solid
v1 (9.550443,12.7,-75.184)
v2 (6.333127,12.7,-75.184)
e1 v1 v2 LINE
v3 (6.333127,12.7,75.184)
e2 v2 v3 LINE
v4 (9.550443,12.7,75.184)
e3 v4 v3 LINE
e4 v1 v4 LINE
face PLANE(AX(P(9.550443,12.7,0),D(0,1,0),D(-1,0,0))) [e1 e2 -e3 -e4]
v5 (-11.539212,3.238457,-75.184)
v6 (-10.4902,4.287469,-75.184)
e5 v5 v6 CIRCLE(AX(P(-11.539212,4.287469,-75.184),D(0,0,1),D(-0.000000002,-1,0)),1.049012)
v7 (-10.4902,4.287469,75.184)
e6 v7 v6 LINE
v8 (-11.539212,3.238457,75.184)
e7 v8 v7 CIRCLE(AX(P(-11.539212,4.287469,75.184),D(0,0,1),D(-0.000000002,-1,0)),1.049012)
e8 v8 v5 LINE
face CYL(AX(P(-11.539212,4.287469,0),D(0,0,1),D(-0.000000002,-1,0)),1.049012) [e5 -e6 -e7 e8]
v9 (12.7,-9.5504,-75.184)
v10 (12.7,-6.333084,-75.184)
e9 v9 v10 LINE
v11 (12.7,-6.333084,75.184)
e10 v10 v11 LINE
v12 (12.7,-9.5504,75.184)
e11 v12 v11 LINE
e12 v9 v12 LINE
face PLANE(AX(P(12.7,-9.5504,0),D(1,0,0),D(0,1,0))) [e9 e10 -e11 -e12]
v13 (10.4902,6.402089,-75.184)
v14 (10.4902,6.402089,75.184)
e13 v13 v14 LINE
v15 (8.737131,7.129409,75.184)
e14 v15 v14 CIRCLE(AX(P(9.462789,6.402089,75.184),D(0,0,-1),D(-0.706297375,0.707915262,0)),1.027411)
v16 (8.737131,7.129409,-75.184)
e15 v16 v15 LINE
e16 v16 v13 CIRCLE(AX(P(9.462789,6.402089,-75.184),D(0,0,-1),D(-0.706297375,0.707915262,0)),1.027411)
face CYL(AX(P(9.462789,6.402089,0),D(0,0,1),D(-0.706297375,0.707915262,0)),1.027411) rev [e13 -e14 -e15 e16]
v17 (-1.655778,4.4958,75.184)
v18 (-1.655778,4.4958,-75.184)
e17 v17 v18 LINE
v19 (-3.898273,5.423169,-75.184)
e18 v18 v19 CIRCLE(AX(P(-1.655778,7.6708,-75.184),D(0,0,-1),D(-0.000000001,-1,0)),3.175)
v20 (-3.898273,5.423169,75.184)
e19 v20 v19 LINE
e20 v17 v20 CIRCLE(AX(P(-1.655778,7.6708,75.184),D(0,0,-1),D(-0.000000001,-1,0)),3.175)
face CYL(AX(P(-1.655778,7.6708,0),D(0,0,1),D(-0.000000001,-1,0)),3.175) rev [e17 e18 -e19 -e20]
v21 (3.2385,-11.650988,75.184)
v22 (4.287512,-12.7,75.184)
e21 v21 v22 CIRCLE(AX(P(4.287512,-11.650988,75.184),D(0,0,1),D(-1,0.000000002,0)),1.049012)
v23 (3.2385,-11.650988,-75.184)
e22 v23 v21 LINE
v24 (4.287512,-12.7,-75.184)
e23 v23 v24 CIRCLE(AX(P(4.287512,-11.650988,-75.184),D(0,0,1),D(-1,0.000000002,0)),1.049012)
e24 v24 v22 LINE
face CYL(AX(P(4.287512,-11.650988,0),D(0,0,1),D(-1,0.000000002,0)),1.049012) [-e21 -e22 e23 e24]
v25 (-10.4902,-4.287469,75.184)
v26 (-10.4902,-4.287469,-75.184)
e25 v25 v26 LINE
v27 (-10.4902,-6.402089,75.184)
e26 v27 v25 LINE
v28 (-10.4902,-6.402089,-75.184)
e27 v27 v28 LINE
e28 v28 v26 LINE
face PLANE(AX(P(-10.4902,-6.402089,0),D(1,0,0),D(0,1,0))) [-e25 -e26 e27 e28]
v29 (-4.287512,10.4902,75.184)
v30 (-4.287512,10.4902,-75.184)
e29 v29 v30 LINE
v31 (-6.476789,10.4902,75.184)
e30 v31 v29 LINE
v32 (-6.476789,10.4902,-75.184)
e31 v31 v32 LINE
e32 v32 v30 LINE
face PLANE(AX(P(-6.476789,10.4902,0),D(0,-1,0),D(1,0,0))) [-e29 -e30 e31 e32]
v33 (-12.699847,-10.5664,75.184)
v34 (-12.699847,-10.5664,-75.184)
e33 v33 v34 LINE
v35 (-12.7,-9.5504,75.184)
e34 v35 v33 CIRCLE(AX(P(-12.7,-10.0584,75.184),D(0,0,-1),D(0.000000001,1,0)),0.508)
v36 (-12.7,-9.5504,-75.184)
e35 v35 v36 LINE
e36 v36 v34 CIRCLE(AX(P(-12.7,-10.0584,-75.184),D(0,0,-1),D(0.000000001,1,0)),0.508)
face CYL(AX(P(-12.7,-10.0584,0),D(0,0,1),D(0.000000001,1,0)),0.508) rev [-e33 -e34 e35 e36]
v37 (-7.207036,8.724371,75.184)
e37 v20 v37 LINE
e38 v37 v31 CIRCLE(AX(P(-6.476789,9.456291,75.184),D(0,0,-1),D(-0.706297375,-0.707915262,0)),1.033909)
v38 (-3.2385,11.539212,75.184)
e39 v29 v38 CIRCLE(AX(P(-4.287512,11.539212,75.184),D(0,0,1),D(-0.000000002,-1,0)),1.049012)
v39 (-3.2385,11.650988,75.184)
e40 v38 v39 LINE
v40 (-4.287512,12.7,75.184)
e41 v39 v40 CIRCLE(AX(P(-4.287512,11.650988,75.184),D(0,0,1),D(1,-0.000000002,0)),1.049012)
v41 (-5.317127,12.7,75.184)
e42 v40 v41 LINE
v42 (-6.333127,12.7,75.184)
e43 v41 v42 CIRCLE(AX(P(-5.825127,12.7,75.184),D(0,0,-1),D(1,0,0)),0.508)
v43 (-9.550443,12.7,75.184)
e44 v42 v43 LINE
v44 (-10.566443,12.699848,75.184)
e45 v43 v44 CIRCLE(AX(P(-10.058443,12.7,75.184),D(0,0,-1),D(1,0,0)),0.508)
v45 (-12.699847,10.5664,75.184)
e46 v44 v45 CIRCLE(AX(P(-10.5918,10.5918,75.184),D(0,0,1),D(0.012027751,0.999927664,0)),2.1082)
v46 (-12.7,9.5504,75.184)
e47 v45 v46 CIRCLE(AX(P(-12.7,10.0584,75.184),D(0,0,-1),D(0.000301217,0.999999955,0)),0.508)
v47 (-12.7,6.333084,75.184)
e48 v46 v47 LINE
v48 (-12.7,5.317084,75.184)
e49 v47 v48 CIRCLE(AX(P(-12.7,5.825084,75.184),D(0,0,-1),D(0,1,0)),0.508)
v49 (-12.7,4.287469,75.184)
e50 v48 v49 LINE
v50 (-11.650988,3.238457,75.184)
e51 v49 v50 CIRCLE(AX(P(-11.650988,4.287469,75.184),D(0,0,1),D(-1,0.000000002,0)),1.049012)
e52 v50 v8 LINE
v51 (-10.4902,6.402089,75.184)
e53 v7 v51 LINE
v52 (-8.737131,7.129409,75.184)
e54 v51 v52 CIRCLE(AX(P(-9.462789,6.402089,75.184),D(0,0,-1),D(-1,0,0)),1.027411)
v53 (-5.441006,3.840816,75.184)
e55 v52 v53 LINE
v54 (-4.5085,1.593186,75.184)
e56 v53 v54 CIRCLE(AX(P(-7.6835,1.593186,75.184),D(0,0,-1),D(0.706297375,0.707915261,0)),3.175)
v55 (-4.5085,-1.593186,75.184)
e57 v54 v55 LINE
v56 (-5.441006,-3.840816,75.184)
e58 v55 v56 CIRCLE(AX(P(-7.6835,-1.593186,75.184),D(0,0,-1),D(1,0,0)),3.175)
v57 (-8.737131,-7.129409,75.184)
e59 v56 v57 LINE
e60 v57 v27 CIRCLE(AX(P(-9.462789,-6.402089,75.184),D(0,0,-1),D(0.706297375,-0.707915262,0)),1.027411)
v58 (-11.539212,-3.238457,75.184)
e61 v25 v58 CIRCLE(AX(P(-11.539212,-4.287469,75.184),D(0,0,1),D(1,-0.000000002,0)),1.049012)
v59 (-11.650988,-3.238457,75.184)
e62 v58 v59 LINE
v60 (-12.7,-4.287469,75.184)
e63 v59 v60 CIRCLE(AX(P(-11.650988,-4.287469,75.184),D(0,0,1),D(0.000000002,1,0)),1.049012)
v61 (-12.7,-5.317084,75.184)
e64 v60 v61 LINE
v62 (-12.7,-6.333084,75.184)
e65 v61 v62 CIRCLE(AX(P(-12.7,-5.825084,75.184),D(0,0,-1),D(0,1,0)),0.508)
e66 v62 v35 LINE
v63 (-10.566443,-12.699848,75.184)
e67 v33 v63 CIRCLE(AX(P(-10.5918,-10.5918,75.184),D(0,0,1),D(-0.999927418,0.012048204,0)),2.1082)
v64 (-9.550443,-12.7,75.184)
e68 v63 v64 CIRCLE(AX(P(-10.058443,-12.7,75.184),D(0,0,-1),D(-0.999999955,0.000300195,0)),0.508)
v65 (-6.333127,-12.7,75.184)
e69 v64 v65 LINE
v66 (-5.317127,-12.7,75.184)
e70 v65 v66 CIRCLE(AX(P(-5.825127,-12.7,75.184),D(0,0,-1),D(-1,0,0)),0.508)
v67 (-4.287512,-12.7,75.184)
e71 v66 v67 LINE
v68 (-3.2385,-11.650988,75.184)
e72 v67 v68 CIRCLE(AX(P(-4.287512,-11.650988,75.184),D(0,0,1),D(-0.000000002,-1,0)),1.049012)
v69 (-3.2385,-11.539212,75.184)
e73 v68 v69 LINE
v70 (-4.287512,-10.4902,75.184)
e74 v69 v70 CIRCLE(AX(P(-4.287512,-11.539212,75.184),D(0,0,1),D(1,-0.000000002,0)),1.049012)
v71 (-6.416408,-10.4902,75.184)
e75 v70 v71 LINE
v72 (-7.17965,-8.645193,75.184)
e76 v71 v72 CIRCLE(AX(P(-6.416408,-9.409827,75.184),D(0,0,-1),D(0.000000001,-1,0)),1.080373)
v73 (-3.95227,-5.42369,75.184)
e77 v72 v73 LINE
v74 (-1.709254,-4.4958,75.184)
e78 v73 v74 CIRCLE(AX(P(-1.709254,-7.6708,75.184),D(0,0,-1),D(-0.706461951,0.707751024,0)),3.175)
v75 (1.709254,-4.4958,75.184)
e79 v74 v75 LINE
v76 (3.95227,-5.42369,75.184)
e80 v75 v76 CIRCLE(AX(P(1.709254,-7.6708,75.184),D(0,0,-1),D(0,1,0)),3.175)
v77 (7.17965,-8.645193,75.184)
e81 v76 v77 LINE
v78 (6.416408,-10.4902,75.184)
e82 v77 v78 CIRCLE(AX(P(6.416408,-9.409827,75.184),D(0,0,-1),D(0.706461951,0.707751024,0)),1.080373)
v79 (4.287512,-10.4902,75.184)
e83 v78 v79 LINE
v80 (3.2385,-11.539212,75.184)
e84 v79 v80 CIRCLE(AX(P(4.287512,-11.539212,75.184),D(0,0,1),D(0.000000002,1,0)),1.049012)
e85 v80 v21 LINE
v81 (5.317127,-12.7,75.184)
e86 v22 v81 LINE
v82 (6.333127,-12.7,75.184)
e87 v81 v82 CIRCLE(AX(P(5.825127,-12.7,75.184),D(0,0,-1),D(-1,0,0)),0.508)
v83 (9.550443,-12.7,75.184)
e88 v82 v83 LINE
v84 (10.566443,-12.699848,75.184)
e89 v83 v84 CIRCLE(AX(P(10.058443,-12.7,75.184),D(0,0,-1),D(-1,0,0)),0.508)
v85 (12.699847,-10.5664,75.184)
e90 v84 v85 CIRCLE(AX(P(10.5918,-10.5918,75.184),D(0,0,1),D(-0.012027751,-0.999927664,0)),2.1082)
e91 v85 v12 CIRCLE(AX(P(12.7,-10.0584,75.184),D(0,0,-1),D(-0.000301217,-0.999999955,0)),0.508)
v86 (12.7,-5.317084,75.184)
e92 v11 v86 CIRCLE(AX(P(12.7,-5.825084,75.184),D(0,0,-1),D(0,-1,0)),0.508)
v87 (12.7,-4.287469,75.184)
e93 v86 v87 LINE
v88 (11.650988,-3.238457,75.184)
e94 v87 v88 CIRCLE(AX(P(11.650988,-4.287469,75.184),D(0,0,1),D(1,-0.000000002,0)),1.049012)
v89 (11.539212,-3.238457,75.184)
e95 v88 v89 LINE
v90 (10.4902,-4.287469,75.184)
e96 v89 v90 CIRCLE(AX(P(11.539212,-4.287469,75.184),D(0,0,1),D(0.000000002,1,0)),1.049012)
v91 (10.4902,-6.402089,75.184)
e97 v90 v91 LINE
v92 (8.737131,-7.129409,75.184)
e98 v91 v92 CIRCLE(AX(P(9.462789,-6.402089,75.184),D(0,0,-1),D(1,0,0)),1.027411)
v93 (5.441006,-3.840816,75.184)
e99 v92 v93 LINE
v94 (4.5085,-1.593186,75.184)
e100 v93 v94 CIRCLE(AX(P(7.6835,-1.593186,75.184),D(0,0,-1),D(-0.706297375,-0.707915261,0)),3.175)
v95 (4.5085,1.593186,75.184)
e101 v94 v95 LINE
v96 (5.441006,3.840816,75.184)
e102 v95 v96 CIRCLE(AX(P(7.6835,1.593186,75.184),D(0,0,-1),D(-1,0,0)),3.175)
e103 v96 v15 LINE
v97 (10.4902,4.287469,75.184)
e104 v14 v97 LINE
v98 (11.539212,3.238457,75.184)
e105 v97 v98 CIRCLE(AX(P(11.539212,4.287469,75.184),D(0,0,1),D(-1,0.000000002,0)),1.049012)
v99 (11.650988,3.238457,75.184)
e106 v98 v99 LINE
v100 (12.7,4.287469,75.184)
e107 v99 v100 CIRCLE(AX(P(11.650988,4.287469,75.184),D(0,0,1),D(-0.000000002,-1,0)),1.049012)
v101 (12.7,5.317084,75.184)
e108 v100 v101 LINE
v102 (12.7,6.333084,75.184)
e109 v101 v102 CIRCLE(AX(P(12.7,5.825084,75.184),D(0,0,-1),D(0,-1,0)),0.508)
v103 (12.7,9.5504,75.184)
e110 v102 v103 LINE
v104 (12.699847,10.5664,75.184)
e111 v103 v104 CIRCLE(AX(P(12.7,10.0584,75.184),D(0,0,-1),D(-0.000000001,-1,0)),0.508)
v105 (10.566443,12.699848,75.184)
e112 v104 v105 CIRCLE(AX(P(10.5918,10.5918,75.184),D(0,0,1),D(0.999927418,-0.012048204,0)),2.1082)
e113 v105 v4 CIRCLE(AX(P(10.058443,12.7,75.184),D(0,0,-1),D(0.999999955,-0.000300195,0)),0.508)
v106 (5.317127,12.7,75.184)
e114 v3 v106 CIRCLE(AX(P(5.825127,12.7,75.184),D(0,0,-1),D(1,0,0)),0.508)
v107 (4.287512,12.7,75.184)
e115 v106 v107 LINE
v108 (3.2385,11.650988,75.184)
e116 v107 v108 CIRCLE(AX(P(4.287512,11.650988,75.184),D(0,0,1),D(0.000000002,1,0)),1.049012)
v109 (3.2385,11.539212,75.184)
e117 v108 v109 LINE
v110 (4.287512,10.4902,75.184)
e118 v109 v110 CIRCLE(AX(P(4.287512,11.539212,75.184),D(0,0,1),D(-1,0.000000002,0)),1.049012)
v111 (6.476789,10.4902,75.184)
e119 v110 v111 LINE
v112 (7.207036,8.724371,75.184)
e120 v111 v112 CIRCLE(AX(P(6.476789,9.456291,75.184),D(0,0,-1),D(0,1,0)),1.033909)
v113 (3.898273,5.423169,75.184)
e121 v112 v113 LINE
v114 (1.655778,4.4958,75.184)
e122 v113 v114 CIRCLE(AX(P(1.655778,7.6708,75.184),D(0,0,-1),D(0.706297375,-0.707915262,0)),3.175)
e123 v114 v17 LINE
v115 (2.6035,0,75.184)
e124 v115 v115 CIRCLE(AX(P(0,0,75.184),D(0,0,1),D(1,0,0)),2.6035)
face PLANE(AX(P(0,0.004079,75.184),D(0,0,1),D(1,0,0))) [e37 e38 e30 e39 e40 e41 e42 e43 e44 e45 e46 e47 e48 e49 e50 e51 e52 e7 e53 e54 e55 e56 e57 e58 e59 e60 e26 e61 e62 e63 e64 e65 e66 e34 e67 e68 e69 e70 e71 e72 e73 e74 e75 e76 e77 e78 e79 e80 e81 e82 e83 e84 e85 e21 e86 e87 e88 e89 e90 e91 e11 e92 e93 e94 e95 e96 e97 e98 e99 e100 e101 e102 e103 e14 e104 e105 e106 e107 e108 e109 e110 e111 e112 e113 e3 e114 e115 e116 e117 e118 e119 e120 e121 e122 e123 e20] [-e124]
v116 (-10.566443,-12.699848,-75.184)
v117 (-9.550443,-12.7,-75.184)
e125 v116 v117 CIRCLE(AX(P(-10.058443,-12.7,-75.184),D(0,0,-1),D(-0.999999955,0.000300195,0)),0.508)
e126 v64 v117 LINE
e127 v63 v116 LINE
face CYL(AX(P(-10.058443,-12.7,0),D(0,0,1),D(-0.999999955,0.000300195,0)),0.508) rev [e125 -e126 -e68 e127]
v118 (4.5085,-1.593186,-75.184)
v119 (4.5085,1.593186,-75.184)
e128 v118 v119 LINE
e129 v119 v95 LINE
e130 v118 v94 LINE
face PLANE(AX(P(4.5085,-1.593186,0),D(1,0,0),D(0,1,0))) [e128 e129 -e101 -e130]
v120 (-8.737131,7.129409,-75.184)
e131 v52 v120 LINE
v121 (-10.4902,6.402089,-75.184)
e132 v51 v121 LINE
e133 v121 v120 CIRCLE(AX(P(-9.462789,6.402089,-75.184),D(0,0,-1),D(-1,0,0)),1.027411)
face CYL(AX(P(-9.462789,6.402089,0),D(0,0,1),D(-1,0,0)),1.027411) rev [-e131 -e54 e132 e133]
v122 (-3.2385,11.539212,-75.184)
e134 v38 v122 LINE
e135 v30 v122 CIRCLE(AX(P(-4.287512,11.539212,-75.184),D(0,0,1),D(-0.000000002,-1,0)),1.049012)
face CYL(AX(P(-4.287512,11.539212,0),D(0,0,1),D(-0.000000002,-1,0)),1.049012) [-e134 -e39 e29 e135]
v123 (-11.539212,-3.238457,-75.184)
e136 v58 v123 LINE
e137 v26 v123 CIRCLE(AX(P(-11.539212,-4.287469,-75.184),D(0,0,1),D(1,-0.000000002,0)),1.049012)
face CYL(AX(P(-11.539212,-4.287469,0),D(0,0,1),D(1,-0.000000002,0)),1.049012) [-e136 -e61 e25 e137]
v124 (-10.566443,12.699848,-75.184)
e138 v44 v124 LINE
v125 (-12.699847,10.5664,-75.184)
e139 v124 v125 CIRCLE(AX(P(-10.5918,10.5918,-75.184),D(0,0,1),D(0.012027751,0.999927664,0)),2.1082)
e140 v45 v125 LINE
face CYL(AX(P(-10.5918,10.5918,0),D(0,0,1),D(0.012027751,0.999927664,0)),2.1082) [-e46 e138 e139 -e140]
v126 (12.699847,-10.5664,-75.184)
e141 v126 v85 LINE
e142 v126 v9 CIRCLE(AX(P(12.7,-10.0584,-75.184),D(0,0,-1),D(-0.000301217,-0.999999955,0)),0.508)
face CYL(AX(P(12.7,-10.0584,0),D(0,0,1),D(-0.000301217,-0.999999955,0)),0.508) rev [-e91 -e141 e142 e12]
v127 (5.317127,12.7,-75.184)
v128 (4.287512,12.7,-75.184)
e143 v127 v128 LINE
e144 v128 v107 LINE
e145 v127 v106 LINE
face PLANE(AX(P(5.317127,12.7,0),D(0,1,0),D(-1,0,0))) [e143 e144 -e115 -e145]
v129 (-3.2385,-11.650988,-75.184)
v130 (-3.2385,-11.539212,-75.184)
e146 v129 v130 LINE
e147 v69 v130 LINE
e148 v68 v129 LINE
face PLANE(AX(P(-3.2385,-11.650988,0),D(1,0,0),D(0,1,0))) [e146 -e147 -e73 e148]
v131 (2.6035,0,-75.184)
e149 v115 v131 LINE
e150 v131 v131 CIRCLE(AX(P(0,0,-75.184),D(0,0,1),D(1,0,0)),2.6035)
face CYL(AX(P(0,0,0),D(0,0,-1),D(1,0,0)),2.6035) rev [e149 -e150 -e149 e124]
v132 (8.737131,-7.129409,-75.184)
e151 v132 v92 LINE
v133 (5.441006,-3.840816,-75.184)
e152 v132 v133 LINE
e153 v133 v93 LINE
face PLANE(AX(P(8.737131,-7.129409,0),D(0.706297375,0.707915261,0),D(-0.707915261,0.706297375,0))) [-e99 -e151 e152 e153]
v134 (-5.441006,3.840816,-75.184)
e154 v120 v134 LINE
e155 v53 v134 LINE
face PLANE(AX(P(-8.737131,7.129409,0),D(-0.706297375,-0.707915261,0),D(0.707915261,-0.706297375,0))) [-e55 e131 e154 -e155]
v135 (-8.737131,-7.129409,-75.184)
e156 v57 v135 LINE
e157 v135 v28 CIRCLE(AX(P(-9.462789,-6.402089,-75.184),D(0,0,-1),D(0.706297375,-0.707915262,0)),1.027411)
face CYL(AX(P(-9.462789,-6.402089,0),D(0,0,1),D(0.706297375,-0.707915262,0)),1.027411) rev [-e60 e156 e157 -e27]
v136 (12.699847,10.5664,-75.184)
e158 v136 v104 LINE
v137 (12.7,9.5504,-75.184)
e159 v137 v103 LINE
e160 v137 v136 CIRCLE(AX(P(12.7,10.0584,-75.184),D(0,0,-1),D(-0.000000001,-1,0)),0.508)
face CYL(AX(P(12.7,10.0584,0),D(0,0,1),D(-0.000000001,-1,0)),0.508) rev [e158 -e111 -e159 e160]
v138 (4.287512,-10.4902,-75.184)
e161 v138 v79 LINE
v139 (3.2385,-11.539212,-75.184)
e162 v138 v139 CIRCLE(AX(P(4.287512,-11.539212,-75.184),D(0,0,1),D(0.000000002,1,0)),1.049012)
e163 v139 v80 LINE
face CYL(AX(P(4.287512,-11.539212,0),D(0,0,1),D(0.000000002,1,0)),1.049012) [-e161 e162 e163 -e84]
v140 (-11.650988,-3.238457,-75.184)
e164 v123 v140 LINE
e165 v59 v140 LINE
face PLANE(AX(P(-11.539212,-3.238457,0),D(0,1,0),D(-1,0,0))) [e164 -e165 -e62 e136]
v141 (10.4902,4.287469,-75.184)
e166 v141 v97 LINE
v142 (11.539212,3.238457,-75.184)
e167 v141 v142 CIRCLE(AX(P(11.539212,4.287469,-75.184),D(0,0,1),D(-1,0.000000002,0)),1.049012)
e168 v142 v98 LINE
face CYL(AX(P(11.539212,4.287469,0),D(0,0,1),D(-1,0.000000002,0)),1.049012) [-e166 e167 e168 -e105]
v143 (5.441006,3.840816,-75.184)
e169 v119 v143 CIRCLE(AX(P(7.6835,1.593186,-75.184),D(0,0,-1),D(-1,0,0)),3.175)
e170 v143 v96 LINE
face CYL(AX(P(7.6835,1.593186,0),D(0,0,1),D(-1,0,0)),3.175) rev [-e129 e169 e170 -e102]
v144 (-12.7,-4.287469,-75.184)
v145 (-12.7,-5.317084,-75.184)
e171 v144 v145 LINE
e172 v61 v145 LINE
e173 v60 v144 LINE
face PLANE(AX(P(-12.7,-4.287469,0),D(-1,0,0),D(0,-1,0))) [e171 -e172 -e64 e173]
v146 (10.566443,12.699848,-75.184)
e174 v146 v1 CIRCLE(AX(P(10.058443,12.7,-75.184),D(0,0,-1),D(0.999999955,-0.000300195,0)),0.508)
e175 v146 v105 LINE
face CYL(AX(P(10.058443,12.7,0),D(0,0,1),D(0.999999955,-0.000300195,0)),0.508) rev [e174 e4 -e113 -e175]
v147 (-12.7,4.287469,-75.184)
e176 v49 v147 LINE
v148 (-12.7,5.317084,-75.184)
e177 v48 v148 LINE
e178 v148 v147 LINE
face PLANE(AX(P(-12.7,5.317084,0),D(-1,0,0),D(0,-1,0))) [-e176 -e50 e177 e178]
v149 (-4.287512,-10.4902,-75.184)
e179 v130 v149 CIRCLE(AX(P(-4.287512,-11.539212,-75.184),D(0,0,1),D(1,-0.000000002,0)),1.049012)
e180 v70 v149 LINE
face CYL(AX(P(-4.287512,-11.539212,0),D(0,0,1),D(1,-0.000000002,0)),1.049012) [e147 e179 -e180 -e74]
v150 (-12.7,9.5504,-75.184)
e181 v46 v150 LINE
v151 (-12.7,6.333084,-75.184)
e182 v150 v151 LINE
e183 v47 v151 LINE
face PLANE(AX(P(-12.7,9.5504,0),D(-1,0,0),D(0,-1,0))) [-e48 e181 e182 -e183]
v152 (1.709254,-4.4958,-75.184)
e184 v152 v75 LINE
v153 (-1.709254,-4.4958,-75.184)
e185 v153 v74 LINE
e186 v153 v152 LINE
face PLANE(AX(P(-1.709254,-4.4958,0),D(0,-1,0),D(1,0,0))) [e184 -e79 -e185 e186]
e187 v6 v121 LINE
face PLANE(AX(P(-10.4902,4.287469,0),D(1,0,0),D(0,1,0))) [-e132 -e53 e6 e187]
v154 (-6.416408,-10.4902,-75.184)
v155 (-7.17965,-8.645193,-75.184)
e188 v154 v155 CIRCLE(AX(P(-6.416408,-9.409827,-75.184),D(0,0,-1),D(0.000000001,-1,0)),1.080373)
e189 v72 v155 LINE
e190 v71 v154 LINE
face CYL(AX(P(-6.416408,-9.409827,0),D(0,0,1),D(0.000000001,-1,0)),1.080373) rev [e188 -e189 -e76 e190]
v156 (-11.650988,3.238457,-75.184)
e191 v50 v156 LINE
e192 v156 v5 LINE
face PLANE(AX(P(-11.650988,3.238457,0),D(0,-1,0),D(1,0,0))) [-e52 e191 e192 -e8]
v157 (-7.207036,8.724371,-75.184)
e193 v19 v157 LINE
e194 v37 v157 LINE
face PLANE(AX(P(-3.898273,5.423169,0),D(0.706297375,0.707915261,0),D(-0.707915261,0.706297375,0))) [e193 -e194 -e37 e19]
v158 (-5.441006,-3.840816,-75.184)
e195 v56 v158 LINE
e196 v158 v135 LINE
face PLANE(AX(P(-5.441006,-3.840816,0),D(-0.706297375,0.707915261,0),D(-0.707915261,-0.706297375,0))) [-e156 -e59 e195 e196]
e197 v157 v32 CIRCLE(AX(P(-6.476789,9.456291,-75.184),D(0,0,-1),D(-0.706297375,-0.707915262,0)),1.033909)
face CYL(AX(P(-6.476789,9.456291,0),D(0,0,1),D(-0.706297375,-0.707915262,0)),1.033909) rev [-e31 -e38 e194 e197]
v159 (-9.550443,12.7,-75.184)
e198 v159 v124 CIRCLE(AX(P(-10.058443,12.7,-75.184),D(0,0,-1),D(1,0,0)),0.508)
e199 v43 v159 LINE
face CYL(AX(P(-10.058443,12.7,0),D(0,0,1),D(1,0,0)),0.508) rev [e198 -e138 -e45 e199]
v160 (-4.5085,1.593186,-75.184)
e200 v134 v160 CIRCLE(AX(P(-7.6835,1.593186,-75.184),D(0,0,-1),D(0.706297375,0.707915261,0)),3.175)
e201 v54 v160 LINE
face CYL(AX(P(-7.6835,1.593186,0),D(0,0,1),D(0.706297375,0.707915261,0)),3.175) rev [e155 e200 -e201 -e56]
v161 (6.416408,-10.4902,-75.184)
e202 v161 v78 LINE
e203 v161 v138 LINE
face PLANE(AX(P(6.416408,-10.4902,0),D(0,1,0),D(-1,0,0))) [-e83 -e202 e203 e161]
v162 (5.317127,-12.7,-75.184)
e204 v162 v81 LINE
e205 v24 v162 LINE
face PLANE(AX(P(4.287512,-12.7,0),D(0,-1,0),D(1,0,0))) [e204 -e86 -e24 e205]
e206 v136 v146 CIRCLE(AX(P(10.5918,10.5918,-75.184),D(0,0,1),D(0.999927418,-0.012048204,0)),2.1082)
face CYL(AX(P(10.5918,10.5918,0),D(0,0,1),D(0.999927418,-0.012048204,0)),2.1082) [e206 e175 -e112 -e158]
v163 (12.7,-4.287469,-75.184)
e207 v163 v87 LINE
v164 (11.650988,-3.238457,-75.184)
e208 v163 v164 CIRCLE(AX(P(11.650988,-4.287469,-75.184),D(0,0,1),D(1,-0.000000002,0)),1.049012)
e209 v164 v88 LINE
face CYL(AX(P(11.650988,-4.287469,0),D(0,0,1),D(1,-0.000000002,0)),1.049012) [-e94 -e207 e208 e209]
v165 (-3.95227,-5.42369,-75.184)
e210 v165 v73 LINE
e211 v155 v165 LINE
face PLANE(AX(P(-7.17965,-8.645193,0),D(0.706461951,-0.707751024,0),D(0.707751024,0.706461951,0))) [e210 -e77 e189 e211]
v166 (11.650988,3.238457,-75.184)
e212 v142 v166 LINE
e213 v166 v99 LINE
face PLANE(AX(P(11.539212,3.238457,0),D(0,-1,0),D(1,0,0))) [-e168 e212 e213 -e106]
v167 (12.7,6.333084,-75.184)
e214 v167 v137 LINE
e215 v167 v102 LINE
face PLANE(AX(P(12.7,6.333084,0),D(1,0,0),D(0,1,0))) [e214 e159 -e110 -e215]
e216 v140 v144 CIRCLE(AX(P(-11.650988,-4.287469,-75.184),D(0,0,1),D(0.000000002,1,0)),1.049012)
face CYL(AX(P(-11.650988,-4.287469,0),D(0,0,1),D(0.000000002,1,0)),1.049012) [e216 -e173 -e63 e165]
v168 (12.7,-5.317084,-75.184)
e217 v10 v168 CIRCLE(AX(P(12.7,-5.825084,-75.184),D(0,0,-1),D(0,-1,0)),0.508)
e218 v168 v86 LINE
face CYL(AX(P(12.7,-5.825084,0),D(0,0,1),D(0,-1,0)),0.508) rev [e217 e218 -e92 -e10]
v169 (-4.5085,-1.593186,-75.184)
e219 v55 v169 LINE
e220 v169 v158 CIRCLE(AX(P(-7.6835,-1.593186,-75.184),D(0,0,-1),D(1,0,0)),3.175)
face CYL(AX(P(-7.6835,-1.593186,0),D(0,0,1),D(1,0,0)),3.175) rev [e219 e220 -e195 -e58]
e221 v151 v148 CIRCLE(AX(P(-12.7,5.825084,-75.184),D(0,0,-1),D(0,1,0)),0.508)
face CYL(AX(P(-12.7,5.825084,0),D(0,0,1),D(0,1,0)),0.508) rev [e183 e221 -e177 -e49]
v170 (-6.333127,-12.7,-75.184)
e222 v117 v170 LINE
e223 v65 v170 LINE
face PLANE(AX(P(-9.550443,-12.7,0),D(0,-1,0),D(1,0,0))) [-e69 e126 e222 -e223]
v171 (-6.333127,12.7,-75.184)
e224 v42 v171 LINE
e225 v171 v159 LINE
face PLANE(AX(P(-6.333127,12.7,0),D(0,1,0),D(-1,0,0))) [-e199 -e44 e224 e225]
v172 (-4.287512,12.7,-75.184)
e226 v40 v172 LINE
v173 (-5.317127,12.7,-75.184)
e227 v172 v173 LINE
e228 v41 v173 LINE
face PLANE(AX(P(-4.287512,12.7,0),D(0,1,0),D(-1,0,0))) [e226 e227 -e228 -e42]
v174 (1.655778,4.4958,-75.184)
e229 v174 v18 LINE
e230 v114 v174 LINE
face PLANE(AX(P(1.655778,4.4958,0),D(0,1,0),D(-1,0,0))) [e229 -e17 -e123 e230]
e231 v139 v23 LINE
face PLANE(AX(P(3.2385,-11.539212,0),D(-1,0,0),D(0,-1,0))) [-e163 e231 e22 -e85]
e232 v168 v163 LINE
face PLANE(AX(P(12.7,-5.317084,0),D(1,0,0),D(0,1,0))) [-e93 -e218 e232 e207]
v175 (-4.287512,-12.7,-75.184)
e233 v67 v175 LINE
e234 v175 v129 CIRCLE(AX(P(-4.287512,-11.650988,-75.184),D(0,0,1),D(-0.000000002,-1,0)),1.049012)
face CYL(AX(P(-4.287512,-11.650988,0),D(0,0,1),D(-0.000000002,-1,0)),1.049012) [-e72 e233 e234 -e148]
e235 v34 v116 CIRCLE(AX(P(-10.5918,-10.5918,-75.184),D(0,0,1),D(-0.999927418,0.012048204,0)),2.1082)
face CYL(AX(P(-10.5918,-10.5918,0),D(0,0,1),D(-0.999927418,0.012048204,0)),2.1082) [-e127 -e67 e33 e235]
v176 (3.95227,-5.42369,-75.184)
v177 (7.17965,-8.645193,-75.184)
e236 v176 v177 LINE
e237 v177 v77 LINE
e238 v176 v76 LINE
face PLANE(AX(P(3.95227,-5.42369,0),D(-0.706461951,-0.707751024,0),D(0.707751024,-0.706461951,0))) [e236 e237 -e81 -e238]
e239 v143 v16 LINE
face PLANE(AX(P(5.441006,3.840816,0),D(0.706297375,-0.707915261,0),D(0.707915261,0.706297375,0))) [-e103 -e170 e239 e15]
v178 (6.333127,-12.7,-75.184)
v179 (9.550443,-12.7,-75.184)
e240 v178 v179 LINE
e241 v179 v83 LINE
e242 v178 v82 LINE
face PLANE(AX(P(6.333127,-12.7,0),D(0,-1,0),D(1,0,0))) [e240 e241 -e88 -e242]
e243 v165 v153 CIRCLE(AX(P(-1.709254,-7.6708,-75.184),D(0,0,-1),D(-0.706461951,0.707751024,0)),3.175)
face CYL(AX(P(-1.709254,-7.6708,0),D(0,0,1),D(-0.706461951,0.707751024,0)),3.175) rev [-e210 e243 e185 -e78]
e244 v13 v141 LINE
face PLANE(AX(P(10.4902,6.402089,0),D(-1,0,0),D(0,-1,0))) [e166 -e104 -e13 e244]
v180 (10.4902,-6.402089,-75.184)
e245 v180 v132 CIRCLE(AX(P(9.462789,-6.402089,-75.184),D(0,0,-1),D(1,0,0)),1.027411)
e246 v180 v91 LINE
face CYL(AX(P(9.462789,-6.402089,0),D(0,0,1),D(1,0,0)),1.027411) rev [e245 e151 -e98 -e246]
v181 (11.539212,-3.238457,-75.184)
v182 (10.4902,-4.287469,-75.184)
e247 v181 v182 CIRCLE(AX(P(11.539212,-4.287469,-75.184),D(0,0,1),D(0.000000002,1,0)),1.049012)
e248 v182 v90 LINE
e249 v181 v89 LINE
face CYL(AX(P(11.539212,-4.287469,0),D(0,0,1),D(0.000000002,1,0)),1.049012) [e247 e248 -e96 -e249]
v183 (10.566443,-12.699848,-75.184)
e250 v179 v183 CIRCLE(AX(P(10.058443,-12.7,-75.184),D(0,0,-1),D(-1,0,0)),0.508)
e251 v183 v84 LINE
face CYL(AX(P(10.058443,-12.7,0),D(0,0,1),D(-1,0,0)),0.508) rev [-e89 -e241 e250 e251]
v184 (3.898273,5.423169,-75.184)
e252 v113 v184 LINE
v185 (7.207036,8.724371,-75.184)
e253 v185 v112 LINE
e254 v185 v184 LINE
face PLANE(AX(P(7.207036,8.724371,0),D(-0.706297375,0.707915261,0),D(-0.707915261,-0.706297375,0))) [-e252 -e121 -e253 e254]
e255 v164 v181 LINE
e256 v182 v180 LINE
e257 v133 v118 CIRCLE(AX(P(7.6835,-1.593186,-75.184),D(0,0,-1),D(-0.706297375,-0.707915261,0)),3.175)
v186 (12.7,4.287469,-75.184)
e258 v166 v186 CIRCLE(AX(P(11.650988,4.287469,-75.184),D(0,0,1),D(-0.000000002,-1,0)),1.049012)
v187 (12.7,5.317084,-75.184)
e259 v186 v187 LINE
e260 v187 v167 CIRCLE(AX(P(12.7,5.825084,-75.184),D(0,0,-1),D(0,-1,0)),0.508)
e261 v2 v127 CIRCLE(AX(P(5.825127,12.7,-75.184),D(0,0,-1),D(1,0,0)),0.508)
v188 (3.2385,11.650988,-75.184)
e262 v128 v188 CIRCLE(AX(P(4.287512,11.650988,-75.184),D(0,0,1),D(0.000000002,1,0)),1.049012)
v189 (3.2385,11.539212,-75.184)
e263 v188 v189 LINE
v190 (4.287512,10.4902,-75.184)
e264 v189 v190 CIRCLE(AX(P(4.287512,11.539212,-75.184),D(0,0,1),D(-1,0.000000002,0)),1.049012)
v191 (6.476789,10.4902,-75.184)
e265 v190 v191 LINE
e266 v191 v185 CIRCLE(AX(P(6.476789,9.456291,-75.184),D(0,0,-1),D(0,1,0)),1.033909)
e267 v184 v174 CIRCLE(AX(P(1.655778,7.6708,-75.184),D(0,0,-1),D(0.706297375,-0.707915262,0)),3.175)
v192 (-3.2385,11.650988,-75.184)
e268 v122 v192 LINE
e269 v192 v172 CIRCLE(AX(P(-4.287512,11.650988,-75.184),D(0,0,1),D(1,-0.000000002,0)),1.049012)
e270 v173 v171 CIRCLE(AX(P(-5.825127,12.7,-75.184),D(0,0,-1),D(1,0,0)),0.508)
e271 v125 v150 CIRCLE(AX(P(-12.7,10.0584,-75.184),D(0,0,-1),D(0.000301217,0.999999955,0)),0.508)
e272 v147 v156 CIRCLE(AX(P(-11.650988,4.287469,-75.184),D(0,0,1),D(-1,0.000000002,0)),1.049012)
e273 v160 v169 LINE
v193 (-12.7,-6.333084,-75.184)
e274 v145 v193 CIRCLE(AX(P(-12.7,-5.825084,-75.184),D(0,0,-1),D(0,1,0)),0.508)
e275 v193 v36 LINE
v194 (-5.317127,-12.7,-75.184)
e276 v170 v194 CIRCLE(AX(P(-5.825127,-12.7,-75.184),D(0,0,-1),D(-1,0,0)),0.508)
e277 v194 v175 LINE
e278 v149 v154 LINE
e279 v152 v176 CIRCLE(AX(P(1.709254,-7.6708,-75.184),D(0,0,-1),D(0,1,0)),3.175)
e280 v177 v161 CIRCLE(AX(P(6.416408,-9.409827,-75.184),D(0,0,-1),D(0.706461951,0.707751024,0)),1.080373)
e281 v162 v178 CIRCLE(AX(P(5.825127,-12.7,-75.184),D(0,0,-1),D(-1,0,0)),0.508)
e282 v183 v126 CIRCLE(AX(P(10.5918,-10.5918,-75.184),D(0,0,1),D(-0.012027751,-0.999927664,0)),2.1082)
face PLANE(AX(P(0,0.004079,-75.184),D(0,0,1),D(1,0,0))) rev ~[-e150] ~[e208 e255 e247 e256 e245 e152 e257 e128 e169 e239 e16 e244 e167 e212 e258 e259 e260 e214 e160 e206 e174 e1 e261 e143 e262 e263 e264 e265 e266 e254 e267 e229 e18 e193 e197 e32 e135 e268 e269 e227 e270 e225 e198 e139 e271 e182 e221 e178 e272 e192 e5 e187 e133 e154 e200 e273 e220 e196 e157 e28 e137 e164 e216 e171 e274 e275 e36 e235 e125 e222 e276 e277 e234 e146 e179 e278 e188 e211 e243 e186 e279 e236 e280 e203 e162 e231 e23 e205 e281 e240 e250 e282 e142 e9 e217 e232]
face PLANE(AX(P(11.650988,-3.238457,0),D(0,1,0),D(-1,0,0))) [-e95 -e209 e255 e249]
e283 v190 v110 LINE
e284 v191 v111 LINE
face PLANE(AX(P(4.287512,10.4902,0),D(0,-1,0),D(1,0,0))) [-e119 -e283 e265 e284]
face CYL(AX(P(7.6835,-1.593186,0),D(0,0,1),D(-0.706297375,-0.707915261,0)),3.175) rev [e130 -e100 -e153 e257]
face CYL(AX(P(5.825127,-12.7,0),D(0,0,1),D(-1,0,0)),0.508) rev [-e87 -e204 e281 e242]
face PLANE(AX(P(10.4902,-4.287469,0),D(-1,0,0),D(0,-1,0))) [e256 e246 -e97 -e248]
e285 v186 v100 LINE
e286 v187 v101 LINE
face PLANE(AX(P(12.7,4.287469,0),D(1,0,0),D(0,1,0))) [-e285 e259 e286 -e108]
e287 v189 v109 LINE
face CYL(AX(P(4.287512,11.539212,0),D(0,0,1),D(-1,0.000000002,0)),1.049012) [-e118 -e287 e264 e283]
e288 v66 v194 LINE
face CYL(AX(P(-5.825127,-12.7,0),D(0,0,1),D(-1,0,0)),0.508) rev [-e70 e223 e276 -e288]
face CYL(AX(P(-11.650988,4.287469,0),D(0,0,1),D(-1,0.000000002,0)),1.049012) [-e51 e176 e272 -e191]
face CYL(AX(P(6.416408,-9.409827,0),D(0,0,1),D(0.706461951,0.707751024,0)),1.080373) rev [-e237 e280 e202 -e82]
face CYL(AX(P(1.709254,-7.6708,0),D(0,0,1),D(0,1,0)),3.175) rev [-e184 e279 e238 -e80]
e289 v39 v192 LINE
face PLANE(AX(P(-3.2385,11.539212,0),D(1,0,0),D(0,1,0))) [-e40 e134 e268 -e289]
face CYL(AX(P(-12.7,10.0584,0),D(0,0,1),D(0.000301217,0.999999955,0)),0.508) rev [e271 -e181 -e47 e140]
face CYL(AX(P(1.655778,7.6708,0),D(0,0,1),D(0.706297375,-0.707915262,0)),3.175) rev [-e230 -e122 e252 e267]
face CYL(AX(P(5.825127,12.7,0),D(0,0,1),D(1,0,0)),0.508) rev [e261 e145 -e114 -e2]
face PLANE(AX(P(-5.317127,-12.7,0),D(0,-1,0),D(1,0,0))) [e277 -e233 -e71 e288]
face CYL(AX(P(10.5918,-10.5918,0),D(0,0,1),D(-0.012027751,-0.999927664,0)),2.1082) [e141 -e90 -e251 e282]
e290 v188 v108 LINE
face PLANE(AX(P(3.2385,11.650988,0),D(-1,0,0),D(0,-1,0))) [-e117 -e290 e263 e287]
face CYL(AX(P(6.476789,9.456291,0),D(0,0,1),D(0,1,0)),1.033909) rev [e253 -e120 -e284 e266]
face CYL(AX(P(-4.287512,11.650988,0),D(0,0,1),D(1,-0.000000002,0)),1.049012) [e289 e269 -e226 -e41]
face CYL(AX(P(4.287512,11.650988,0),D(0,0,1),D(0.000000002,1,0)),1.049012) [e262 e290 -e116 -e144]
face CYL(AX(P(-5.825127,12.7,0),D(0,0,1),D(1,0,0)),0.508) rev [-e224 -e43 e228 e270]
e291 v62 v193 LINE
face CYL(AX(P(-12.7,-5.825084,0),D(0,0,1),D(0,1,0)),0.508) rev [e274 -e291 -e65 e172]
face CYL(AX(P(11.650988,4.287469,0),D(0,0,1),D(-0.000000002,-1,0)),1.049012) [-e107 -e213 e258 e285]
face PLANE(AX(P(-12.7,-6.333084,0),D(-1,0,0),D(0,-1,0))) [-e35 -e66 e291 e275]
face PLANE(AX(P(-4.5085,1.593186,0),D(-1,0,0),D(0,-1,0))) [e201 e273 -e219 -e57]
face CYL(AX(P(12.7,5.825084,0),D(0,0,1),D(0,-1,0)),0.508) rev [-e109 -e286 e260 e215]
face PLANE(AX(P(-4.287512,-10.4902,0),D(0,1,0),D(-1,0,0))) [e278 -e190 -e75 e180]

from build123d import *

# Parameters (mm, degrees)
SKETCH1_R           = 2.6035
BOSS_EXTRUDE1_DEPTH = 75.184


with BuildPart() as part:
    # Sketch1 → Boss-Extrude1 (new, symmetric)
    with BuildSketch(Plane.XY):
        with BuildLine():
            Line((-7.179650497, -8.645192506), (-3.952270251, -5.423690499))
            ThreePointArc((-3.952270251, -5.423690499), (-2.922936451, -4.736929036), (-1.709253557, -4.4958))
            Line((-1.709253557, -4.4958), (1.709253557, -4.4958))
            ThreePointArc((1.709253557, -4.4958), (2.922936451, -4.736929036), (3.952270251, -5.423690499))
            Line((3.952270251, -5.423690499), (7.179650497, -8.645192506))
            ThreePointArc((7.179650497, -8.645192506), (7.41473083, -9.822813117), (6.416408329, -10.4902))
            Line((6.416408329, -10.4902), (4.287512407, -10.4902))
            ThreePointArc((4.287512407, -10.4902), (3.54574862, -10.79744862), (3.2385, -11.539212407))
            Line((3.2385, -11.539212407), (3.2385, -11.650987593))
            ThreePointArc((3.2385, -11.650987593), (3.54574862, -12.39275138), (4.287512407, -12.7))
            Line((4.287512407, -12.7), (5.317126718, -12.7))
            ThreePointArc((5.317126718, -12.7), (5.825126718, -12.192), (6.333126718, -12.7))
            Line((6.333126718, -12.7), (9.550443118, -12.7))
            ThreePointArc((9.550443118, -12.7), (10.058366869, -12.192000006), (10.566443095, -12.699847501))
            ThreePointArc((10.566443095, -12.699847501), (12.082537762, -12.08250727), (12.699846982, -10.566399977))
            ThreePointArc((12.699846982, -10.566399977), (12.192000006, -10.058323491), (12.7, -9.5504))
            Line((12.7, -9.5504), (12.7, -6.3330836))
            ThreePointArc((12.7, -6.3330836), (12.192, -5.8250836), (12.7, -5.3170836))
            Line((12.7, -5.3170836), (12.7, -4.287469289))
            ThreePointArc((12.7, -4.287469289), (12.39275138, -3.545705502), (11.650987593, -3.238456882))
            Line((11.650987593, -3.238456882), (11.539212407, -3.238456882))
            ThreePointArc((11.539212407, -3.238456882), (10.79744862, -3.545705502), (10.4902, -4.287469289))
            Line((10.4902, -4.287469289), (10.4902, -6.402089023))
            ThreePointArc((10.4902, -6.402089023), (9.856505071, -7.351067942), (8.737131347, -7.129408934))
            Line((8.737131347, -7.129408934), (5.441005833, -3.840816462))
            ThreePointArc((5.441005833, -3.840816462), (4.750877967, -2.809883091), (4.5085, -1.593185507))
            Line((4.5085, -1.593185507), (4.5085, 1.593185507))
            ThreePointArc((4.5085, 1.593185507), (4.750877967, 2.809883091), (5.441005833, 3.840816462))
            Line((5.441005833, 3.840816462), (8.737131347, 7.129408934))
            ThreePointArc((8.737131347, 7.129408934), (9.856505071, 7.351067942), (10.4902, 6.402089023))
            Line((10.4902, 6.402089023), (10.4902, 4.287469289))
            ThreePointArc((10.4902, 4.287469289), (10.79744862, 3.545705502), (11.539212407, 3.238456882))
            Line((11.539212407, 3.238456882), (11.650987593, 3.238456882))
            ThreePointArc((11.650987593, 3.238456882), (12.39275138, 3.545705502), (12.7, 4.287469289))
            Line((12.7, 4.287469289), (12.7, 5.3170836))
            ThreePointArc((12.7, 5.3170836), (12.192, 5.8250836), (12.7, 6.3330836))
            Line((12.7, 6.3330836), (12.7, 9.5504))
            ThreePointArc((12.7, 9.5504), (12.192000006, 10.058323491), (12.699846982, 10.566399977))
            ThreePointArc((12.699846982, 10.566399977), (12.082537762, 12.08250727), (10.566443095, 12.699847501))
            ThreePointArc((10.566443095, 12.699847501), (10.058366869, 12.192000006), (9.550443118, 12.7))
            Line((9.550443118, 12.7), (6.333126718, 12.7))
            ThreePointArc((6.333126718, 12.7), (5.825126718, 12.192), (5.317126718, 12.7))
            Line((5.317126718, 12.7), (4.287512407, 12.7))
            ThreePointArc((4.287512407, 12.7), (3.54574862, 12.39275138), (3.2385, 11.650987593))
            Line((3.2385, 11.650987593), (3.2385, 11.539212407))
            ThreePointArc((3.2385, 11.539212407), (3.54574862, 10.79744862), (4.287512407, 10.4902))
            Line((4.287512407, 10.4902), (6.476788598, 10.4902))
            ThreePointArc((6.476788598, 10.4902), (7.432222385, 9.85140422), (7.207036008, 8.724370562))
            Line((7.207036008, 8.724370562), (3.898272566, 5.423169045))
            ThreePointArc((3.898272566, 5.423169045), (2.869120213, 4.736787962), (1.655778399, 4.4958))
            Line((1.655778399, 4.4958), (-1.655778399, 4.4958))
            ThreePointArc((-1.655778399, 4.4958), (-2.869120213, 4.736787962), (-3.898272566, 5.423169045))
            Line((-3.898272566, 5.423169045), (-7.207036008, 8.724370562))
            ThreePointArc((-7.207036008, 8.724370562), (-7.432222385, 9.85140422), (-6.476788598, 10.4902))
            Line((-6.476788598, 10.4902), (-4.287512407, 10.4902))
            ThreePointArc((-4.287512407, 10.4902), (-3.54574862, 10.79744862), (-3.2385, 11.539212407))
            Line((-3.2385, 11.539212407), (-3.2385, 11.650987593))
            ThreePointArc((-3.2385, 11.650987593), (-3.54574862, 12.39275138), (-4.287512407, 12.7))
            Line((-4.287512407, 12.7), (-5.317126718, 12.7))
            ThreePointArc((-5.317126718, 12.7), (-5.825126718, 12.192), (-6.333126718, 12.7))
            Line((-6.333126718, 12.7), (-9.550443118, 12.7))
            ThreePointArc((-9.550443118, 12.7), (-10.058366869, 12.192000006), (-10.566443095, 12.699847501))
            ThreePointArc((-10.566443095, 12.699847501), (-12.082537762, 12.08250727), (-12.699846982, 10.566399977))
            ThreePointArc((-12.699846982, 10.566399977), (-12.192000006, 10.058323491), (-12.7, 9.5504))
            Line((-12.7, 9.5504), (-12.7, 6.3330836))
            ThreePointArc((-12.7, 6.3330836), (-12.192, 5.8250836), (-12.7, 5.3170836))
            Line((-12.7, 5.3170836), (-12.7, 4.287469289))
            ThreePointArc((-12.7, 4.287469289), (-12.39275138, 3.545705502), (-11.650987593, 3.238456882))
            Line((-11.650987593, 3.238456882), (-11.539212407, 3.238456882))
            ThreePointArc((-11.539212407, 3.238456882), (-10.79744862, 3.545705502), (-10.4902, 4.287469289))
            Line((-10.4902, 4.287469289), (-10.4902, 6.402089023))
            ThreePointArc((-10.4902, 6.402089023), (-9.856505071, 7.351067942), (-8.737131347, 7.129408934))
            Line((-8.737131347, 7.129408934), (-5.441005833, 3.840816462))
            ThreePointArc((-5.441005833, 3.840816462), (-4.750877967, 2.809883091), (-4.5085, 1.593185507))
            Line((-4.5085, 1.593185507), (-4.5085, -1.593185507))
            ThreePointArc((-4.5085, -1.593185507), (-4.750877967, -2.809883091), (-5.441005833, -3.840816462))
            Line((-5.441005833, -3.840816462), (-8.737131347, -7.129408934))
            ThreePointArc((-8.737131347, -7.129408934), (-9.856505071, -7.351067942), (-10.4902, -6.402089023))
            Line((-10.4902, -6.402089023), (-10.4902, -4.287469289))
            ThreePointArc((-10.4902, -4.287469289), (-10.79744862, -3.545705502), (-11.539212407, -3.238456882))
            Line((-11.539212407, -3.238456882), (-11.650987593, -3.238456882))
            ThreePointArc((-11.650987593, -3.238456882), (-12.39275138, -3.545705502), (-12.7, -4.287469289))
            Line((-12.7, -4.287469289), (-12.7, -5.3170836))
            ThreePointArc((-12.7, -5.3170836), (-12.192, -5.8250836), (-12.7, -6.3330836))
            Line((-12.7, -6.3330836), (-12.7, -9.5504))
            ThreePointArc((-12.7, -9.5504), (-12.192000006, -10.058323491), (-12.699846982, -10.566399977))
            ThreePointArc((-12.699846982, -10.566399977), (-12.082537762, -12.08250727), (-10.566443095, -12.699847501))
            ThreePointArc((-10.566443095, -12.699847501), (-10.058366869, -12.192000006), (-9.550443118, -12.7))
            Line((-9.550443118, -12.7), (-6.333126718, -12.7))
            ThreePointArc((-6.333126718, -12.7), (-5.825126718, -12.192), (-5.317126718, -12.7))
            Line((-5.317126718, -12.7), (-4.287512407, -12.7))
            ThreePointArc((-4.287512407, -12.7), (-3.54574862, -12.39275138), (-3.2385, -11.650987593))
            Line((-3.2385, -11.650987593), (-3.2385, -11.539212407))
            ThreePointArc((-3.2385, -11.539212407), (-3.54574862, -10.79744862), (-4.287512407, -10.4902))
            Line((-4.287512407, -10.4902), (-6.416408329, -10.4902))
            ThreePointArc((-6.416408329, -10.4902), (-7.41473083, -9.822813117), (-7.179650497, -8.645192506))
        make_face()
        Circle(SKETCH1_R, mode=Mode.SUBTRACT)
    extrude(amount=BOSS_EXTRUDE1_DEPTH, both=True)


solid = part.part
